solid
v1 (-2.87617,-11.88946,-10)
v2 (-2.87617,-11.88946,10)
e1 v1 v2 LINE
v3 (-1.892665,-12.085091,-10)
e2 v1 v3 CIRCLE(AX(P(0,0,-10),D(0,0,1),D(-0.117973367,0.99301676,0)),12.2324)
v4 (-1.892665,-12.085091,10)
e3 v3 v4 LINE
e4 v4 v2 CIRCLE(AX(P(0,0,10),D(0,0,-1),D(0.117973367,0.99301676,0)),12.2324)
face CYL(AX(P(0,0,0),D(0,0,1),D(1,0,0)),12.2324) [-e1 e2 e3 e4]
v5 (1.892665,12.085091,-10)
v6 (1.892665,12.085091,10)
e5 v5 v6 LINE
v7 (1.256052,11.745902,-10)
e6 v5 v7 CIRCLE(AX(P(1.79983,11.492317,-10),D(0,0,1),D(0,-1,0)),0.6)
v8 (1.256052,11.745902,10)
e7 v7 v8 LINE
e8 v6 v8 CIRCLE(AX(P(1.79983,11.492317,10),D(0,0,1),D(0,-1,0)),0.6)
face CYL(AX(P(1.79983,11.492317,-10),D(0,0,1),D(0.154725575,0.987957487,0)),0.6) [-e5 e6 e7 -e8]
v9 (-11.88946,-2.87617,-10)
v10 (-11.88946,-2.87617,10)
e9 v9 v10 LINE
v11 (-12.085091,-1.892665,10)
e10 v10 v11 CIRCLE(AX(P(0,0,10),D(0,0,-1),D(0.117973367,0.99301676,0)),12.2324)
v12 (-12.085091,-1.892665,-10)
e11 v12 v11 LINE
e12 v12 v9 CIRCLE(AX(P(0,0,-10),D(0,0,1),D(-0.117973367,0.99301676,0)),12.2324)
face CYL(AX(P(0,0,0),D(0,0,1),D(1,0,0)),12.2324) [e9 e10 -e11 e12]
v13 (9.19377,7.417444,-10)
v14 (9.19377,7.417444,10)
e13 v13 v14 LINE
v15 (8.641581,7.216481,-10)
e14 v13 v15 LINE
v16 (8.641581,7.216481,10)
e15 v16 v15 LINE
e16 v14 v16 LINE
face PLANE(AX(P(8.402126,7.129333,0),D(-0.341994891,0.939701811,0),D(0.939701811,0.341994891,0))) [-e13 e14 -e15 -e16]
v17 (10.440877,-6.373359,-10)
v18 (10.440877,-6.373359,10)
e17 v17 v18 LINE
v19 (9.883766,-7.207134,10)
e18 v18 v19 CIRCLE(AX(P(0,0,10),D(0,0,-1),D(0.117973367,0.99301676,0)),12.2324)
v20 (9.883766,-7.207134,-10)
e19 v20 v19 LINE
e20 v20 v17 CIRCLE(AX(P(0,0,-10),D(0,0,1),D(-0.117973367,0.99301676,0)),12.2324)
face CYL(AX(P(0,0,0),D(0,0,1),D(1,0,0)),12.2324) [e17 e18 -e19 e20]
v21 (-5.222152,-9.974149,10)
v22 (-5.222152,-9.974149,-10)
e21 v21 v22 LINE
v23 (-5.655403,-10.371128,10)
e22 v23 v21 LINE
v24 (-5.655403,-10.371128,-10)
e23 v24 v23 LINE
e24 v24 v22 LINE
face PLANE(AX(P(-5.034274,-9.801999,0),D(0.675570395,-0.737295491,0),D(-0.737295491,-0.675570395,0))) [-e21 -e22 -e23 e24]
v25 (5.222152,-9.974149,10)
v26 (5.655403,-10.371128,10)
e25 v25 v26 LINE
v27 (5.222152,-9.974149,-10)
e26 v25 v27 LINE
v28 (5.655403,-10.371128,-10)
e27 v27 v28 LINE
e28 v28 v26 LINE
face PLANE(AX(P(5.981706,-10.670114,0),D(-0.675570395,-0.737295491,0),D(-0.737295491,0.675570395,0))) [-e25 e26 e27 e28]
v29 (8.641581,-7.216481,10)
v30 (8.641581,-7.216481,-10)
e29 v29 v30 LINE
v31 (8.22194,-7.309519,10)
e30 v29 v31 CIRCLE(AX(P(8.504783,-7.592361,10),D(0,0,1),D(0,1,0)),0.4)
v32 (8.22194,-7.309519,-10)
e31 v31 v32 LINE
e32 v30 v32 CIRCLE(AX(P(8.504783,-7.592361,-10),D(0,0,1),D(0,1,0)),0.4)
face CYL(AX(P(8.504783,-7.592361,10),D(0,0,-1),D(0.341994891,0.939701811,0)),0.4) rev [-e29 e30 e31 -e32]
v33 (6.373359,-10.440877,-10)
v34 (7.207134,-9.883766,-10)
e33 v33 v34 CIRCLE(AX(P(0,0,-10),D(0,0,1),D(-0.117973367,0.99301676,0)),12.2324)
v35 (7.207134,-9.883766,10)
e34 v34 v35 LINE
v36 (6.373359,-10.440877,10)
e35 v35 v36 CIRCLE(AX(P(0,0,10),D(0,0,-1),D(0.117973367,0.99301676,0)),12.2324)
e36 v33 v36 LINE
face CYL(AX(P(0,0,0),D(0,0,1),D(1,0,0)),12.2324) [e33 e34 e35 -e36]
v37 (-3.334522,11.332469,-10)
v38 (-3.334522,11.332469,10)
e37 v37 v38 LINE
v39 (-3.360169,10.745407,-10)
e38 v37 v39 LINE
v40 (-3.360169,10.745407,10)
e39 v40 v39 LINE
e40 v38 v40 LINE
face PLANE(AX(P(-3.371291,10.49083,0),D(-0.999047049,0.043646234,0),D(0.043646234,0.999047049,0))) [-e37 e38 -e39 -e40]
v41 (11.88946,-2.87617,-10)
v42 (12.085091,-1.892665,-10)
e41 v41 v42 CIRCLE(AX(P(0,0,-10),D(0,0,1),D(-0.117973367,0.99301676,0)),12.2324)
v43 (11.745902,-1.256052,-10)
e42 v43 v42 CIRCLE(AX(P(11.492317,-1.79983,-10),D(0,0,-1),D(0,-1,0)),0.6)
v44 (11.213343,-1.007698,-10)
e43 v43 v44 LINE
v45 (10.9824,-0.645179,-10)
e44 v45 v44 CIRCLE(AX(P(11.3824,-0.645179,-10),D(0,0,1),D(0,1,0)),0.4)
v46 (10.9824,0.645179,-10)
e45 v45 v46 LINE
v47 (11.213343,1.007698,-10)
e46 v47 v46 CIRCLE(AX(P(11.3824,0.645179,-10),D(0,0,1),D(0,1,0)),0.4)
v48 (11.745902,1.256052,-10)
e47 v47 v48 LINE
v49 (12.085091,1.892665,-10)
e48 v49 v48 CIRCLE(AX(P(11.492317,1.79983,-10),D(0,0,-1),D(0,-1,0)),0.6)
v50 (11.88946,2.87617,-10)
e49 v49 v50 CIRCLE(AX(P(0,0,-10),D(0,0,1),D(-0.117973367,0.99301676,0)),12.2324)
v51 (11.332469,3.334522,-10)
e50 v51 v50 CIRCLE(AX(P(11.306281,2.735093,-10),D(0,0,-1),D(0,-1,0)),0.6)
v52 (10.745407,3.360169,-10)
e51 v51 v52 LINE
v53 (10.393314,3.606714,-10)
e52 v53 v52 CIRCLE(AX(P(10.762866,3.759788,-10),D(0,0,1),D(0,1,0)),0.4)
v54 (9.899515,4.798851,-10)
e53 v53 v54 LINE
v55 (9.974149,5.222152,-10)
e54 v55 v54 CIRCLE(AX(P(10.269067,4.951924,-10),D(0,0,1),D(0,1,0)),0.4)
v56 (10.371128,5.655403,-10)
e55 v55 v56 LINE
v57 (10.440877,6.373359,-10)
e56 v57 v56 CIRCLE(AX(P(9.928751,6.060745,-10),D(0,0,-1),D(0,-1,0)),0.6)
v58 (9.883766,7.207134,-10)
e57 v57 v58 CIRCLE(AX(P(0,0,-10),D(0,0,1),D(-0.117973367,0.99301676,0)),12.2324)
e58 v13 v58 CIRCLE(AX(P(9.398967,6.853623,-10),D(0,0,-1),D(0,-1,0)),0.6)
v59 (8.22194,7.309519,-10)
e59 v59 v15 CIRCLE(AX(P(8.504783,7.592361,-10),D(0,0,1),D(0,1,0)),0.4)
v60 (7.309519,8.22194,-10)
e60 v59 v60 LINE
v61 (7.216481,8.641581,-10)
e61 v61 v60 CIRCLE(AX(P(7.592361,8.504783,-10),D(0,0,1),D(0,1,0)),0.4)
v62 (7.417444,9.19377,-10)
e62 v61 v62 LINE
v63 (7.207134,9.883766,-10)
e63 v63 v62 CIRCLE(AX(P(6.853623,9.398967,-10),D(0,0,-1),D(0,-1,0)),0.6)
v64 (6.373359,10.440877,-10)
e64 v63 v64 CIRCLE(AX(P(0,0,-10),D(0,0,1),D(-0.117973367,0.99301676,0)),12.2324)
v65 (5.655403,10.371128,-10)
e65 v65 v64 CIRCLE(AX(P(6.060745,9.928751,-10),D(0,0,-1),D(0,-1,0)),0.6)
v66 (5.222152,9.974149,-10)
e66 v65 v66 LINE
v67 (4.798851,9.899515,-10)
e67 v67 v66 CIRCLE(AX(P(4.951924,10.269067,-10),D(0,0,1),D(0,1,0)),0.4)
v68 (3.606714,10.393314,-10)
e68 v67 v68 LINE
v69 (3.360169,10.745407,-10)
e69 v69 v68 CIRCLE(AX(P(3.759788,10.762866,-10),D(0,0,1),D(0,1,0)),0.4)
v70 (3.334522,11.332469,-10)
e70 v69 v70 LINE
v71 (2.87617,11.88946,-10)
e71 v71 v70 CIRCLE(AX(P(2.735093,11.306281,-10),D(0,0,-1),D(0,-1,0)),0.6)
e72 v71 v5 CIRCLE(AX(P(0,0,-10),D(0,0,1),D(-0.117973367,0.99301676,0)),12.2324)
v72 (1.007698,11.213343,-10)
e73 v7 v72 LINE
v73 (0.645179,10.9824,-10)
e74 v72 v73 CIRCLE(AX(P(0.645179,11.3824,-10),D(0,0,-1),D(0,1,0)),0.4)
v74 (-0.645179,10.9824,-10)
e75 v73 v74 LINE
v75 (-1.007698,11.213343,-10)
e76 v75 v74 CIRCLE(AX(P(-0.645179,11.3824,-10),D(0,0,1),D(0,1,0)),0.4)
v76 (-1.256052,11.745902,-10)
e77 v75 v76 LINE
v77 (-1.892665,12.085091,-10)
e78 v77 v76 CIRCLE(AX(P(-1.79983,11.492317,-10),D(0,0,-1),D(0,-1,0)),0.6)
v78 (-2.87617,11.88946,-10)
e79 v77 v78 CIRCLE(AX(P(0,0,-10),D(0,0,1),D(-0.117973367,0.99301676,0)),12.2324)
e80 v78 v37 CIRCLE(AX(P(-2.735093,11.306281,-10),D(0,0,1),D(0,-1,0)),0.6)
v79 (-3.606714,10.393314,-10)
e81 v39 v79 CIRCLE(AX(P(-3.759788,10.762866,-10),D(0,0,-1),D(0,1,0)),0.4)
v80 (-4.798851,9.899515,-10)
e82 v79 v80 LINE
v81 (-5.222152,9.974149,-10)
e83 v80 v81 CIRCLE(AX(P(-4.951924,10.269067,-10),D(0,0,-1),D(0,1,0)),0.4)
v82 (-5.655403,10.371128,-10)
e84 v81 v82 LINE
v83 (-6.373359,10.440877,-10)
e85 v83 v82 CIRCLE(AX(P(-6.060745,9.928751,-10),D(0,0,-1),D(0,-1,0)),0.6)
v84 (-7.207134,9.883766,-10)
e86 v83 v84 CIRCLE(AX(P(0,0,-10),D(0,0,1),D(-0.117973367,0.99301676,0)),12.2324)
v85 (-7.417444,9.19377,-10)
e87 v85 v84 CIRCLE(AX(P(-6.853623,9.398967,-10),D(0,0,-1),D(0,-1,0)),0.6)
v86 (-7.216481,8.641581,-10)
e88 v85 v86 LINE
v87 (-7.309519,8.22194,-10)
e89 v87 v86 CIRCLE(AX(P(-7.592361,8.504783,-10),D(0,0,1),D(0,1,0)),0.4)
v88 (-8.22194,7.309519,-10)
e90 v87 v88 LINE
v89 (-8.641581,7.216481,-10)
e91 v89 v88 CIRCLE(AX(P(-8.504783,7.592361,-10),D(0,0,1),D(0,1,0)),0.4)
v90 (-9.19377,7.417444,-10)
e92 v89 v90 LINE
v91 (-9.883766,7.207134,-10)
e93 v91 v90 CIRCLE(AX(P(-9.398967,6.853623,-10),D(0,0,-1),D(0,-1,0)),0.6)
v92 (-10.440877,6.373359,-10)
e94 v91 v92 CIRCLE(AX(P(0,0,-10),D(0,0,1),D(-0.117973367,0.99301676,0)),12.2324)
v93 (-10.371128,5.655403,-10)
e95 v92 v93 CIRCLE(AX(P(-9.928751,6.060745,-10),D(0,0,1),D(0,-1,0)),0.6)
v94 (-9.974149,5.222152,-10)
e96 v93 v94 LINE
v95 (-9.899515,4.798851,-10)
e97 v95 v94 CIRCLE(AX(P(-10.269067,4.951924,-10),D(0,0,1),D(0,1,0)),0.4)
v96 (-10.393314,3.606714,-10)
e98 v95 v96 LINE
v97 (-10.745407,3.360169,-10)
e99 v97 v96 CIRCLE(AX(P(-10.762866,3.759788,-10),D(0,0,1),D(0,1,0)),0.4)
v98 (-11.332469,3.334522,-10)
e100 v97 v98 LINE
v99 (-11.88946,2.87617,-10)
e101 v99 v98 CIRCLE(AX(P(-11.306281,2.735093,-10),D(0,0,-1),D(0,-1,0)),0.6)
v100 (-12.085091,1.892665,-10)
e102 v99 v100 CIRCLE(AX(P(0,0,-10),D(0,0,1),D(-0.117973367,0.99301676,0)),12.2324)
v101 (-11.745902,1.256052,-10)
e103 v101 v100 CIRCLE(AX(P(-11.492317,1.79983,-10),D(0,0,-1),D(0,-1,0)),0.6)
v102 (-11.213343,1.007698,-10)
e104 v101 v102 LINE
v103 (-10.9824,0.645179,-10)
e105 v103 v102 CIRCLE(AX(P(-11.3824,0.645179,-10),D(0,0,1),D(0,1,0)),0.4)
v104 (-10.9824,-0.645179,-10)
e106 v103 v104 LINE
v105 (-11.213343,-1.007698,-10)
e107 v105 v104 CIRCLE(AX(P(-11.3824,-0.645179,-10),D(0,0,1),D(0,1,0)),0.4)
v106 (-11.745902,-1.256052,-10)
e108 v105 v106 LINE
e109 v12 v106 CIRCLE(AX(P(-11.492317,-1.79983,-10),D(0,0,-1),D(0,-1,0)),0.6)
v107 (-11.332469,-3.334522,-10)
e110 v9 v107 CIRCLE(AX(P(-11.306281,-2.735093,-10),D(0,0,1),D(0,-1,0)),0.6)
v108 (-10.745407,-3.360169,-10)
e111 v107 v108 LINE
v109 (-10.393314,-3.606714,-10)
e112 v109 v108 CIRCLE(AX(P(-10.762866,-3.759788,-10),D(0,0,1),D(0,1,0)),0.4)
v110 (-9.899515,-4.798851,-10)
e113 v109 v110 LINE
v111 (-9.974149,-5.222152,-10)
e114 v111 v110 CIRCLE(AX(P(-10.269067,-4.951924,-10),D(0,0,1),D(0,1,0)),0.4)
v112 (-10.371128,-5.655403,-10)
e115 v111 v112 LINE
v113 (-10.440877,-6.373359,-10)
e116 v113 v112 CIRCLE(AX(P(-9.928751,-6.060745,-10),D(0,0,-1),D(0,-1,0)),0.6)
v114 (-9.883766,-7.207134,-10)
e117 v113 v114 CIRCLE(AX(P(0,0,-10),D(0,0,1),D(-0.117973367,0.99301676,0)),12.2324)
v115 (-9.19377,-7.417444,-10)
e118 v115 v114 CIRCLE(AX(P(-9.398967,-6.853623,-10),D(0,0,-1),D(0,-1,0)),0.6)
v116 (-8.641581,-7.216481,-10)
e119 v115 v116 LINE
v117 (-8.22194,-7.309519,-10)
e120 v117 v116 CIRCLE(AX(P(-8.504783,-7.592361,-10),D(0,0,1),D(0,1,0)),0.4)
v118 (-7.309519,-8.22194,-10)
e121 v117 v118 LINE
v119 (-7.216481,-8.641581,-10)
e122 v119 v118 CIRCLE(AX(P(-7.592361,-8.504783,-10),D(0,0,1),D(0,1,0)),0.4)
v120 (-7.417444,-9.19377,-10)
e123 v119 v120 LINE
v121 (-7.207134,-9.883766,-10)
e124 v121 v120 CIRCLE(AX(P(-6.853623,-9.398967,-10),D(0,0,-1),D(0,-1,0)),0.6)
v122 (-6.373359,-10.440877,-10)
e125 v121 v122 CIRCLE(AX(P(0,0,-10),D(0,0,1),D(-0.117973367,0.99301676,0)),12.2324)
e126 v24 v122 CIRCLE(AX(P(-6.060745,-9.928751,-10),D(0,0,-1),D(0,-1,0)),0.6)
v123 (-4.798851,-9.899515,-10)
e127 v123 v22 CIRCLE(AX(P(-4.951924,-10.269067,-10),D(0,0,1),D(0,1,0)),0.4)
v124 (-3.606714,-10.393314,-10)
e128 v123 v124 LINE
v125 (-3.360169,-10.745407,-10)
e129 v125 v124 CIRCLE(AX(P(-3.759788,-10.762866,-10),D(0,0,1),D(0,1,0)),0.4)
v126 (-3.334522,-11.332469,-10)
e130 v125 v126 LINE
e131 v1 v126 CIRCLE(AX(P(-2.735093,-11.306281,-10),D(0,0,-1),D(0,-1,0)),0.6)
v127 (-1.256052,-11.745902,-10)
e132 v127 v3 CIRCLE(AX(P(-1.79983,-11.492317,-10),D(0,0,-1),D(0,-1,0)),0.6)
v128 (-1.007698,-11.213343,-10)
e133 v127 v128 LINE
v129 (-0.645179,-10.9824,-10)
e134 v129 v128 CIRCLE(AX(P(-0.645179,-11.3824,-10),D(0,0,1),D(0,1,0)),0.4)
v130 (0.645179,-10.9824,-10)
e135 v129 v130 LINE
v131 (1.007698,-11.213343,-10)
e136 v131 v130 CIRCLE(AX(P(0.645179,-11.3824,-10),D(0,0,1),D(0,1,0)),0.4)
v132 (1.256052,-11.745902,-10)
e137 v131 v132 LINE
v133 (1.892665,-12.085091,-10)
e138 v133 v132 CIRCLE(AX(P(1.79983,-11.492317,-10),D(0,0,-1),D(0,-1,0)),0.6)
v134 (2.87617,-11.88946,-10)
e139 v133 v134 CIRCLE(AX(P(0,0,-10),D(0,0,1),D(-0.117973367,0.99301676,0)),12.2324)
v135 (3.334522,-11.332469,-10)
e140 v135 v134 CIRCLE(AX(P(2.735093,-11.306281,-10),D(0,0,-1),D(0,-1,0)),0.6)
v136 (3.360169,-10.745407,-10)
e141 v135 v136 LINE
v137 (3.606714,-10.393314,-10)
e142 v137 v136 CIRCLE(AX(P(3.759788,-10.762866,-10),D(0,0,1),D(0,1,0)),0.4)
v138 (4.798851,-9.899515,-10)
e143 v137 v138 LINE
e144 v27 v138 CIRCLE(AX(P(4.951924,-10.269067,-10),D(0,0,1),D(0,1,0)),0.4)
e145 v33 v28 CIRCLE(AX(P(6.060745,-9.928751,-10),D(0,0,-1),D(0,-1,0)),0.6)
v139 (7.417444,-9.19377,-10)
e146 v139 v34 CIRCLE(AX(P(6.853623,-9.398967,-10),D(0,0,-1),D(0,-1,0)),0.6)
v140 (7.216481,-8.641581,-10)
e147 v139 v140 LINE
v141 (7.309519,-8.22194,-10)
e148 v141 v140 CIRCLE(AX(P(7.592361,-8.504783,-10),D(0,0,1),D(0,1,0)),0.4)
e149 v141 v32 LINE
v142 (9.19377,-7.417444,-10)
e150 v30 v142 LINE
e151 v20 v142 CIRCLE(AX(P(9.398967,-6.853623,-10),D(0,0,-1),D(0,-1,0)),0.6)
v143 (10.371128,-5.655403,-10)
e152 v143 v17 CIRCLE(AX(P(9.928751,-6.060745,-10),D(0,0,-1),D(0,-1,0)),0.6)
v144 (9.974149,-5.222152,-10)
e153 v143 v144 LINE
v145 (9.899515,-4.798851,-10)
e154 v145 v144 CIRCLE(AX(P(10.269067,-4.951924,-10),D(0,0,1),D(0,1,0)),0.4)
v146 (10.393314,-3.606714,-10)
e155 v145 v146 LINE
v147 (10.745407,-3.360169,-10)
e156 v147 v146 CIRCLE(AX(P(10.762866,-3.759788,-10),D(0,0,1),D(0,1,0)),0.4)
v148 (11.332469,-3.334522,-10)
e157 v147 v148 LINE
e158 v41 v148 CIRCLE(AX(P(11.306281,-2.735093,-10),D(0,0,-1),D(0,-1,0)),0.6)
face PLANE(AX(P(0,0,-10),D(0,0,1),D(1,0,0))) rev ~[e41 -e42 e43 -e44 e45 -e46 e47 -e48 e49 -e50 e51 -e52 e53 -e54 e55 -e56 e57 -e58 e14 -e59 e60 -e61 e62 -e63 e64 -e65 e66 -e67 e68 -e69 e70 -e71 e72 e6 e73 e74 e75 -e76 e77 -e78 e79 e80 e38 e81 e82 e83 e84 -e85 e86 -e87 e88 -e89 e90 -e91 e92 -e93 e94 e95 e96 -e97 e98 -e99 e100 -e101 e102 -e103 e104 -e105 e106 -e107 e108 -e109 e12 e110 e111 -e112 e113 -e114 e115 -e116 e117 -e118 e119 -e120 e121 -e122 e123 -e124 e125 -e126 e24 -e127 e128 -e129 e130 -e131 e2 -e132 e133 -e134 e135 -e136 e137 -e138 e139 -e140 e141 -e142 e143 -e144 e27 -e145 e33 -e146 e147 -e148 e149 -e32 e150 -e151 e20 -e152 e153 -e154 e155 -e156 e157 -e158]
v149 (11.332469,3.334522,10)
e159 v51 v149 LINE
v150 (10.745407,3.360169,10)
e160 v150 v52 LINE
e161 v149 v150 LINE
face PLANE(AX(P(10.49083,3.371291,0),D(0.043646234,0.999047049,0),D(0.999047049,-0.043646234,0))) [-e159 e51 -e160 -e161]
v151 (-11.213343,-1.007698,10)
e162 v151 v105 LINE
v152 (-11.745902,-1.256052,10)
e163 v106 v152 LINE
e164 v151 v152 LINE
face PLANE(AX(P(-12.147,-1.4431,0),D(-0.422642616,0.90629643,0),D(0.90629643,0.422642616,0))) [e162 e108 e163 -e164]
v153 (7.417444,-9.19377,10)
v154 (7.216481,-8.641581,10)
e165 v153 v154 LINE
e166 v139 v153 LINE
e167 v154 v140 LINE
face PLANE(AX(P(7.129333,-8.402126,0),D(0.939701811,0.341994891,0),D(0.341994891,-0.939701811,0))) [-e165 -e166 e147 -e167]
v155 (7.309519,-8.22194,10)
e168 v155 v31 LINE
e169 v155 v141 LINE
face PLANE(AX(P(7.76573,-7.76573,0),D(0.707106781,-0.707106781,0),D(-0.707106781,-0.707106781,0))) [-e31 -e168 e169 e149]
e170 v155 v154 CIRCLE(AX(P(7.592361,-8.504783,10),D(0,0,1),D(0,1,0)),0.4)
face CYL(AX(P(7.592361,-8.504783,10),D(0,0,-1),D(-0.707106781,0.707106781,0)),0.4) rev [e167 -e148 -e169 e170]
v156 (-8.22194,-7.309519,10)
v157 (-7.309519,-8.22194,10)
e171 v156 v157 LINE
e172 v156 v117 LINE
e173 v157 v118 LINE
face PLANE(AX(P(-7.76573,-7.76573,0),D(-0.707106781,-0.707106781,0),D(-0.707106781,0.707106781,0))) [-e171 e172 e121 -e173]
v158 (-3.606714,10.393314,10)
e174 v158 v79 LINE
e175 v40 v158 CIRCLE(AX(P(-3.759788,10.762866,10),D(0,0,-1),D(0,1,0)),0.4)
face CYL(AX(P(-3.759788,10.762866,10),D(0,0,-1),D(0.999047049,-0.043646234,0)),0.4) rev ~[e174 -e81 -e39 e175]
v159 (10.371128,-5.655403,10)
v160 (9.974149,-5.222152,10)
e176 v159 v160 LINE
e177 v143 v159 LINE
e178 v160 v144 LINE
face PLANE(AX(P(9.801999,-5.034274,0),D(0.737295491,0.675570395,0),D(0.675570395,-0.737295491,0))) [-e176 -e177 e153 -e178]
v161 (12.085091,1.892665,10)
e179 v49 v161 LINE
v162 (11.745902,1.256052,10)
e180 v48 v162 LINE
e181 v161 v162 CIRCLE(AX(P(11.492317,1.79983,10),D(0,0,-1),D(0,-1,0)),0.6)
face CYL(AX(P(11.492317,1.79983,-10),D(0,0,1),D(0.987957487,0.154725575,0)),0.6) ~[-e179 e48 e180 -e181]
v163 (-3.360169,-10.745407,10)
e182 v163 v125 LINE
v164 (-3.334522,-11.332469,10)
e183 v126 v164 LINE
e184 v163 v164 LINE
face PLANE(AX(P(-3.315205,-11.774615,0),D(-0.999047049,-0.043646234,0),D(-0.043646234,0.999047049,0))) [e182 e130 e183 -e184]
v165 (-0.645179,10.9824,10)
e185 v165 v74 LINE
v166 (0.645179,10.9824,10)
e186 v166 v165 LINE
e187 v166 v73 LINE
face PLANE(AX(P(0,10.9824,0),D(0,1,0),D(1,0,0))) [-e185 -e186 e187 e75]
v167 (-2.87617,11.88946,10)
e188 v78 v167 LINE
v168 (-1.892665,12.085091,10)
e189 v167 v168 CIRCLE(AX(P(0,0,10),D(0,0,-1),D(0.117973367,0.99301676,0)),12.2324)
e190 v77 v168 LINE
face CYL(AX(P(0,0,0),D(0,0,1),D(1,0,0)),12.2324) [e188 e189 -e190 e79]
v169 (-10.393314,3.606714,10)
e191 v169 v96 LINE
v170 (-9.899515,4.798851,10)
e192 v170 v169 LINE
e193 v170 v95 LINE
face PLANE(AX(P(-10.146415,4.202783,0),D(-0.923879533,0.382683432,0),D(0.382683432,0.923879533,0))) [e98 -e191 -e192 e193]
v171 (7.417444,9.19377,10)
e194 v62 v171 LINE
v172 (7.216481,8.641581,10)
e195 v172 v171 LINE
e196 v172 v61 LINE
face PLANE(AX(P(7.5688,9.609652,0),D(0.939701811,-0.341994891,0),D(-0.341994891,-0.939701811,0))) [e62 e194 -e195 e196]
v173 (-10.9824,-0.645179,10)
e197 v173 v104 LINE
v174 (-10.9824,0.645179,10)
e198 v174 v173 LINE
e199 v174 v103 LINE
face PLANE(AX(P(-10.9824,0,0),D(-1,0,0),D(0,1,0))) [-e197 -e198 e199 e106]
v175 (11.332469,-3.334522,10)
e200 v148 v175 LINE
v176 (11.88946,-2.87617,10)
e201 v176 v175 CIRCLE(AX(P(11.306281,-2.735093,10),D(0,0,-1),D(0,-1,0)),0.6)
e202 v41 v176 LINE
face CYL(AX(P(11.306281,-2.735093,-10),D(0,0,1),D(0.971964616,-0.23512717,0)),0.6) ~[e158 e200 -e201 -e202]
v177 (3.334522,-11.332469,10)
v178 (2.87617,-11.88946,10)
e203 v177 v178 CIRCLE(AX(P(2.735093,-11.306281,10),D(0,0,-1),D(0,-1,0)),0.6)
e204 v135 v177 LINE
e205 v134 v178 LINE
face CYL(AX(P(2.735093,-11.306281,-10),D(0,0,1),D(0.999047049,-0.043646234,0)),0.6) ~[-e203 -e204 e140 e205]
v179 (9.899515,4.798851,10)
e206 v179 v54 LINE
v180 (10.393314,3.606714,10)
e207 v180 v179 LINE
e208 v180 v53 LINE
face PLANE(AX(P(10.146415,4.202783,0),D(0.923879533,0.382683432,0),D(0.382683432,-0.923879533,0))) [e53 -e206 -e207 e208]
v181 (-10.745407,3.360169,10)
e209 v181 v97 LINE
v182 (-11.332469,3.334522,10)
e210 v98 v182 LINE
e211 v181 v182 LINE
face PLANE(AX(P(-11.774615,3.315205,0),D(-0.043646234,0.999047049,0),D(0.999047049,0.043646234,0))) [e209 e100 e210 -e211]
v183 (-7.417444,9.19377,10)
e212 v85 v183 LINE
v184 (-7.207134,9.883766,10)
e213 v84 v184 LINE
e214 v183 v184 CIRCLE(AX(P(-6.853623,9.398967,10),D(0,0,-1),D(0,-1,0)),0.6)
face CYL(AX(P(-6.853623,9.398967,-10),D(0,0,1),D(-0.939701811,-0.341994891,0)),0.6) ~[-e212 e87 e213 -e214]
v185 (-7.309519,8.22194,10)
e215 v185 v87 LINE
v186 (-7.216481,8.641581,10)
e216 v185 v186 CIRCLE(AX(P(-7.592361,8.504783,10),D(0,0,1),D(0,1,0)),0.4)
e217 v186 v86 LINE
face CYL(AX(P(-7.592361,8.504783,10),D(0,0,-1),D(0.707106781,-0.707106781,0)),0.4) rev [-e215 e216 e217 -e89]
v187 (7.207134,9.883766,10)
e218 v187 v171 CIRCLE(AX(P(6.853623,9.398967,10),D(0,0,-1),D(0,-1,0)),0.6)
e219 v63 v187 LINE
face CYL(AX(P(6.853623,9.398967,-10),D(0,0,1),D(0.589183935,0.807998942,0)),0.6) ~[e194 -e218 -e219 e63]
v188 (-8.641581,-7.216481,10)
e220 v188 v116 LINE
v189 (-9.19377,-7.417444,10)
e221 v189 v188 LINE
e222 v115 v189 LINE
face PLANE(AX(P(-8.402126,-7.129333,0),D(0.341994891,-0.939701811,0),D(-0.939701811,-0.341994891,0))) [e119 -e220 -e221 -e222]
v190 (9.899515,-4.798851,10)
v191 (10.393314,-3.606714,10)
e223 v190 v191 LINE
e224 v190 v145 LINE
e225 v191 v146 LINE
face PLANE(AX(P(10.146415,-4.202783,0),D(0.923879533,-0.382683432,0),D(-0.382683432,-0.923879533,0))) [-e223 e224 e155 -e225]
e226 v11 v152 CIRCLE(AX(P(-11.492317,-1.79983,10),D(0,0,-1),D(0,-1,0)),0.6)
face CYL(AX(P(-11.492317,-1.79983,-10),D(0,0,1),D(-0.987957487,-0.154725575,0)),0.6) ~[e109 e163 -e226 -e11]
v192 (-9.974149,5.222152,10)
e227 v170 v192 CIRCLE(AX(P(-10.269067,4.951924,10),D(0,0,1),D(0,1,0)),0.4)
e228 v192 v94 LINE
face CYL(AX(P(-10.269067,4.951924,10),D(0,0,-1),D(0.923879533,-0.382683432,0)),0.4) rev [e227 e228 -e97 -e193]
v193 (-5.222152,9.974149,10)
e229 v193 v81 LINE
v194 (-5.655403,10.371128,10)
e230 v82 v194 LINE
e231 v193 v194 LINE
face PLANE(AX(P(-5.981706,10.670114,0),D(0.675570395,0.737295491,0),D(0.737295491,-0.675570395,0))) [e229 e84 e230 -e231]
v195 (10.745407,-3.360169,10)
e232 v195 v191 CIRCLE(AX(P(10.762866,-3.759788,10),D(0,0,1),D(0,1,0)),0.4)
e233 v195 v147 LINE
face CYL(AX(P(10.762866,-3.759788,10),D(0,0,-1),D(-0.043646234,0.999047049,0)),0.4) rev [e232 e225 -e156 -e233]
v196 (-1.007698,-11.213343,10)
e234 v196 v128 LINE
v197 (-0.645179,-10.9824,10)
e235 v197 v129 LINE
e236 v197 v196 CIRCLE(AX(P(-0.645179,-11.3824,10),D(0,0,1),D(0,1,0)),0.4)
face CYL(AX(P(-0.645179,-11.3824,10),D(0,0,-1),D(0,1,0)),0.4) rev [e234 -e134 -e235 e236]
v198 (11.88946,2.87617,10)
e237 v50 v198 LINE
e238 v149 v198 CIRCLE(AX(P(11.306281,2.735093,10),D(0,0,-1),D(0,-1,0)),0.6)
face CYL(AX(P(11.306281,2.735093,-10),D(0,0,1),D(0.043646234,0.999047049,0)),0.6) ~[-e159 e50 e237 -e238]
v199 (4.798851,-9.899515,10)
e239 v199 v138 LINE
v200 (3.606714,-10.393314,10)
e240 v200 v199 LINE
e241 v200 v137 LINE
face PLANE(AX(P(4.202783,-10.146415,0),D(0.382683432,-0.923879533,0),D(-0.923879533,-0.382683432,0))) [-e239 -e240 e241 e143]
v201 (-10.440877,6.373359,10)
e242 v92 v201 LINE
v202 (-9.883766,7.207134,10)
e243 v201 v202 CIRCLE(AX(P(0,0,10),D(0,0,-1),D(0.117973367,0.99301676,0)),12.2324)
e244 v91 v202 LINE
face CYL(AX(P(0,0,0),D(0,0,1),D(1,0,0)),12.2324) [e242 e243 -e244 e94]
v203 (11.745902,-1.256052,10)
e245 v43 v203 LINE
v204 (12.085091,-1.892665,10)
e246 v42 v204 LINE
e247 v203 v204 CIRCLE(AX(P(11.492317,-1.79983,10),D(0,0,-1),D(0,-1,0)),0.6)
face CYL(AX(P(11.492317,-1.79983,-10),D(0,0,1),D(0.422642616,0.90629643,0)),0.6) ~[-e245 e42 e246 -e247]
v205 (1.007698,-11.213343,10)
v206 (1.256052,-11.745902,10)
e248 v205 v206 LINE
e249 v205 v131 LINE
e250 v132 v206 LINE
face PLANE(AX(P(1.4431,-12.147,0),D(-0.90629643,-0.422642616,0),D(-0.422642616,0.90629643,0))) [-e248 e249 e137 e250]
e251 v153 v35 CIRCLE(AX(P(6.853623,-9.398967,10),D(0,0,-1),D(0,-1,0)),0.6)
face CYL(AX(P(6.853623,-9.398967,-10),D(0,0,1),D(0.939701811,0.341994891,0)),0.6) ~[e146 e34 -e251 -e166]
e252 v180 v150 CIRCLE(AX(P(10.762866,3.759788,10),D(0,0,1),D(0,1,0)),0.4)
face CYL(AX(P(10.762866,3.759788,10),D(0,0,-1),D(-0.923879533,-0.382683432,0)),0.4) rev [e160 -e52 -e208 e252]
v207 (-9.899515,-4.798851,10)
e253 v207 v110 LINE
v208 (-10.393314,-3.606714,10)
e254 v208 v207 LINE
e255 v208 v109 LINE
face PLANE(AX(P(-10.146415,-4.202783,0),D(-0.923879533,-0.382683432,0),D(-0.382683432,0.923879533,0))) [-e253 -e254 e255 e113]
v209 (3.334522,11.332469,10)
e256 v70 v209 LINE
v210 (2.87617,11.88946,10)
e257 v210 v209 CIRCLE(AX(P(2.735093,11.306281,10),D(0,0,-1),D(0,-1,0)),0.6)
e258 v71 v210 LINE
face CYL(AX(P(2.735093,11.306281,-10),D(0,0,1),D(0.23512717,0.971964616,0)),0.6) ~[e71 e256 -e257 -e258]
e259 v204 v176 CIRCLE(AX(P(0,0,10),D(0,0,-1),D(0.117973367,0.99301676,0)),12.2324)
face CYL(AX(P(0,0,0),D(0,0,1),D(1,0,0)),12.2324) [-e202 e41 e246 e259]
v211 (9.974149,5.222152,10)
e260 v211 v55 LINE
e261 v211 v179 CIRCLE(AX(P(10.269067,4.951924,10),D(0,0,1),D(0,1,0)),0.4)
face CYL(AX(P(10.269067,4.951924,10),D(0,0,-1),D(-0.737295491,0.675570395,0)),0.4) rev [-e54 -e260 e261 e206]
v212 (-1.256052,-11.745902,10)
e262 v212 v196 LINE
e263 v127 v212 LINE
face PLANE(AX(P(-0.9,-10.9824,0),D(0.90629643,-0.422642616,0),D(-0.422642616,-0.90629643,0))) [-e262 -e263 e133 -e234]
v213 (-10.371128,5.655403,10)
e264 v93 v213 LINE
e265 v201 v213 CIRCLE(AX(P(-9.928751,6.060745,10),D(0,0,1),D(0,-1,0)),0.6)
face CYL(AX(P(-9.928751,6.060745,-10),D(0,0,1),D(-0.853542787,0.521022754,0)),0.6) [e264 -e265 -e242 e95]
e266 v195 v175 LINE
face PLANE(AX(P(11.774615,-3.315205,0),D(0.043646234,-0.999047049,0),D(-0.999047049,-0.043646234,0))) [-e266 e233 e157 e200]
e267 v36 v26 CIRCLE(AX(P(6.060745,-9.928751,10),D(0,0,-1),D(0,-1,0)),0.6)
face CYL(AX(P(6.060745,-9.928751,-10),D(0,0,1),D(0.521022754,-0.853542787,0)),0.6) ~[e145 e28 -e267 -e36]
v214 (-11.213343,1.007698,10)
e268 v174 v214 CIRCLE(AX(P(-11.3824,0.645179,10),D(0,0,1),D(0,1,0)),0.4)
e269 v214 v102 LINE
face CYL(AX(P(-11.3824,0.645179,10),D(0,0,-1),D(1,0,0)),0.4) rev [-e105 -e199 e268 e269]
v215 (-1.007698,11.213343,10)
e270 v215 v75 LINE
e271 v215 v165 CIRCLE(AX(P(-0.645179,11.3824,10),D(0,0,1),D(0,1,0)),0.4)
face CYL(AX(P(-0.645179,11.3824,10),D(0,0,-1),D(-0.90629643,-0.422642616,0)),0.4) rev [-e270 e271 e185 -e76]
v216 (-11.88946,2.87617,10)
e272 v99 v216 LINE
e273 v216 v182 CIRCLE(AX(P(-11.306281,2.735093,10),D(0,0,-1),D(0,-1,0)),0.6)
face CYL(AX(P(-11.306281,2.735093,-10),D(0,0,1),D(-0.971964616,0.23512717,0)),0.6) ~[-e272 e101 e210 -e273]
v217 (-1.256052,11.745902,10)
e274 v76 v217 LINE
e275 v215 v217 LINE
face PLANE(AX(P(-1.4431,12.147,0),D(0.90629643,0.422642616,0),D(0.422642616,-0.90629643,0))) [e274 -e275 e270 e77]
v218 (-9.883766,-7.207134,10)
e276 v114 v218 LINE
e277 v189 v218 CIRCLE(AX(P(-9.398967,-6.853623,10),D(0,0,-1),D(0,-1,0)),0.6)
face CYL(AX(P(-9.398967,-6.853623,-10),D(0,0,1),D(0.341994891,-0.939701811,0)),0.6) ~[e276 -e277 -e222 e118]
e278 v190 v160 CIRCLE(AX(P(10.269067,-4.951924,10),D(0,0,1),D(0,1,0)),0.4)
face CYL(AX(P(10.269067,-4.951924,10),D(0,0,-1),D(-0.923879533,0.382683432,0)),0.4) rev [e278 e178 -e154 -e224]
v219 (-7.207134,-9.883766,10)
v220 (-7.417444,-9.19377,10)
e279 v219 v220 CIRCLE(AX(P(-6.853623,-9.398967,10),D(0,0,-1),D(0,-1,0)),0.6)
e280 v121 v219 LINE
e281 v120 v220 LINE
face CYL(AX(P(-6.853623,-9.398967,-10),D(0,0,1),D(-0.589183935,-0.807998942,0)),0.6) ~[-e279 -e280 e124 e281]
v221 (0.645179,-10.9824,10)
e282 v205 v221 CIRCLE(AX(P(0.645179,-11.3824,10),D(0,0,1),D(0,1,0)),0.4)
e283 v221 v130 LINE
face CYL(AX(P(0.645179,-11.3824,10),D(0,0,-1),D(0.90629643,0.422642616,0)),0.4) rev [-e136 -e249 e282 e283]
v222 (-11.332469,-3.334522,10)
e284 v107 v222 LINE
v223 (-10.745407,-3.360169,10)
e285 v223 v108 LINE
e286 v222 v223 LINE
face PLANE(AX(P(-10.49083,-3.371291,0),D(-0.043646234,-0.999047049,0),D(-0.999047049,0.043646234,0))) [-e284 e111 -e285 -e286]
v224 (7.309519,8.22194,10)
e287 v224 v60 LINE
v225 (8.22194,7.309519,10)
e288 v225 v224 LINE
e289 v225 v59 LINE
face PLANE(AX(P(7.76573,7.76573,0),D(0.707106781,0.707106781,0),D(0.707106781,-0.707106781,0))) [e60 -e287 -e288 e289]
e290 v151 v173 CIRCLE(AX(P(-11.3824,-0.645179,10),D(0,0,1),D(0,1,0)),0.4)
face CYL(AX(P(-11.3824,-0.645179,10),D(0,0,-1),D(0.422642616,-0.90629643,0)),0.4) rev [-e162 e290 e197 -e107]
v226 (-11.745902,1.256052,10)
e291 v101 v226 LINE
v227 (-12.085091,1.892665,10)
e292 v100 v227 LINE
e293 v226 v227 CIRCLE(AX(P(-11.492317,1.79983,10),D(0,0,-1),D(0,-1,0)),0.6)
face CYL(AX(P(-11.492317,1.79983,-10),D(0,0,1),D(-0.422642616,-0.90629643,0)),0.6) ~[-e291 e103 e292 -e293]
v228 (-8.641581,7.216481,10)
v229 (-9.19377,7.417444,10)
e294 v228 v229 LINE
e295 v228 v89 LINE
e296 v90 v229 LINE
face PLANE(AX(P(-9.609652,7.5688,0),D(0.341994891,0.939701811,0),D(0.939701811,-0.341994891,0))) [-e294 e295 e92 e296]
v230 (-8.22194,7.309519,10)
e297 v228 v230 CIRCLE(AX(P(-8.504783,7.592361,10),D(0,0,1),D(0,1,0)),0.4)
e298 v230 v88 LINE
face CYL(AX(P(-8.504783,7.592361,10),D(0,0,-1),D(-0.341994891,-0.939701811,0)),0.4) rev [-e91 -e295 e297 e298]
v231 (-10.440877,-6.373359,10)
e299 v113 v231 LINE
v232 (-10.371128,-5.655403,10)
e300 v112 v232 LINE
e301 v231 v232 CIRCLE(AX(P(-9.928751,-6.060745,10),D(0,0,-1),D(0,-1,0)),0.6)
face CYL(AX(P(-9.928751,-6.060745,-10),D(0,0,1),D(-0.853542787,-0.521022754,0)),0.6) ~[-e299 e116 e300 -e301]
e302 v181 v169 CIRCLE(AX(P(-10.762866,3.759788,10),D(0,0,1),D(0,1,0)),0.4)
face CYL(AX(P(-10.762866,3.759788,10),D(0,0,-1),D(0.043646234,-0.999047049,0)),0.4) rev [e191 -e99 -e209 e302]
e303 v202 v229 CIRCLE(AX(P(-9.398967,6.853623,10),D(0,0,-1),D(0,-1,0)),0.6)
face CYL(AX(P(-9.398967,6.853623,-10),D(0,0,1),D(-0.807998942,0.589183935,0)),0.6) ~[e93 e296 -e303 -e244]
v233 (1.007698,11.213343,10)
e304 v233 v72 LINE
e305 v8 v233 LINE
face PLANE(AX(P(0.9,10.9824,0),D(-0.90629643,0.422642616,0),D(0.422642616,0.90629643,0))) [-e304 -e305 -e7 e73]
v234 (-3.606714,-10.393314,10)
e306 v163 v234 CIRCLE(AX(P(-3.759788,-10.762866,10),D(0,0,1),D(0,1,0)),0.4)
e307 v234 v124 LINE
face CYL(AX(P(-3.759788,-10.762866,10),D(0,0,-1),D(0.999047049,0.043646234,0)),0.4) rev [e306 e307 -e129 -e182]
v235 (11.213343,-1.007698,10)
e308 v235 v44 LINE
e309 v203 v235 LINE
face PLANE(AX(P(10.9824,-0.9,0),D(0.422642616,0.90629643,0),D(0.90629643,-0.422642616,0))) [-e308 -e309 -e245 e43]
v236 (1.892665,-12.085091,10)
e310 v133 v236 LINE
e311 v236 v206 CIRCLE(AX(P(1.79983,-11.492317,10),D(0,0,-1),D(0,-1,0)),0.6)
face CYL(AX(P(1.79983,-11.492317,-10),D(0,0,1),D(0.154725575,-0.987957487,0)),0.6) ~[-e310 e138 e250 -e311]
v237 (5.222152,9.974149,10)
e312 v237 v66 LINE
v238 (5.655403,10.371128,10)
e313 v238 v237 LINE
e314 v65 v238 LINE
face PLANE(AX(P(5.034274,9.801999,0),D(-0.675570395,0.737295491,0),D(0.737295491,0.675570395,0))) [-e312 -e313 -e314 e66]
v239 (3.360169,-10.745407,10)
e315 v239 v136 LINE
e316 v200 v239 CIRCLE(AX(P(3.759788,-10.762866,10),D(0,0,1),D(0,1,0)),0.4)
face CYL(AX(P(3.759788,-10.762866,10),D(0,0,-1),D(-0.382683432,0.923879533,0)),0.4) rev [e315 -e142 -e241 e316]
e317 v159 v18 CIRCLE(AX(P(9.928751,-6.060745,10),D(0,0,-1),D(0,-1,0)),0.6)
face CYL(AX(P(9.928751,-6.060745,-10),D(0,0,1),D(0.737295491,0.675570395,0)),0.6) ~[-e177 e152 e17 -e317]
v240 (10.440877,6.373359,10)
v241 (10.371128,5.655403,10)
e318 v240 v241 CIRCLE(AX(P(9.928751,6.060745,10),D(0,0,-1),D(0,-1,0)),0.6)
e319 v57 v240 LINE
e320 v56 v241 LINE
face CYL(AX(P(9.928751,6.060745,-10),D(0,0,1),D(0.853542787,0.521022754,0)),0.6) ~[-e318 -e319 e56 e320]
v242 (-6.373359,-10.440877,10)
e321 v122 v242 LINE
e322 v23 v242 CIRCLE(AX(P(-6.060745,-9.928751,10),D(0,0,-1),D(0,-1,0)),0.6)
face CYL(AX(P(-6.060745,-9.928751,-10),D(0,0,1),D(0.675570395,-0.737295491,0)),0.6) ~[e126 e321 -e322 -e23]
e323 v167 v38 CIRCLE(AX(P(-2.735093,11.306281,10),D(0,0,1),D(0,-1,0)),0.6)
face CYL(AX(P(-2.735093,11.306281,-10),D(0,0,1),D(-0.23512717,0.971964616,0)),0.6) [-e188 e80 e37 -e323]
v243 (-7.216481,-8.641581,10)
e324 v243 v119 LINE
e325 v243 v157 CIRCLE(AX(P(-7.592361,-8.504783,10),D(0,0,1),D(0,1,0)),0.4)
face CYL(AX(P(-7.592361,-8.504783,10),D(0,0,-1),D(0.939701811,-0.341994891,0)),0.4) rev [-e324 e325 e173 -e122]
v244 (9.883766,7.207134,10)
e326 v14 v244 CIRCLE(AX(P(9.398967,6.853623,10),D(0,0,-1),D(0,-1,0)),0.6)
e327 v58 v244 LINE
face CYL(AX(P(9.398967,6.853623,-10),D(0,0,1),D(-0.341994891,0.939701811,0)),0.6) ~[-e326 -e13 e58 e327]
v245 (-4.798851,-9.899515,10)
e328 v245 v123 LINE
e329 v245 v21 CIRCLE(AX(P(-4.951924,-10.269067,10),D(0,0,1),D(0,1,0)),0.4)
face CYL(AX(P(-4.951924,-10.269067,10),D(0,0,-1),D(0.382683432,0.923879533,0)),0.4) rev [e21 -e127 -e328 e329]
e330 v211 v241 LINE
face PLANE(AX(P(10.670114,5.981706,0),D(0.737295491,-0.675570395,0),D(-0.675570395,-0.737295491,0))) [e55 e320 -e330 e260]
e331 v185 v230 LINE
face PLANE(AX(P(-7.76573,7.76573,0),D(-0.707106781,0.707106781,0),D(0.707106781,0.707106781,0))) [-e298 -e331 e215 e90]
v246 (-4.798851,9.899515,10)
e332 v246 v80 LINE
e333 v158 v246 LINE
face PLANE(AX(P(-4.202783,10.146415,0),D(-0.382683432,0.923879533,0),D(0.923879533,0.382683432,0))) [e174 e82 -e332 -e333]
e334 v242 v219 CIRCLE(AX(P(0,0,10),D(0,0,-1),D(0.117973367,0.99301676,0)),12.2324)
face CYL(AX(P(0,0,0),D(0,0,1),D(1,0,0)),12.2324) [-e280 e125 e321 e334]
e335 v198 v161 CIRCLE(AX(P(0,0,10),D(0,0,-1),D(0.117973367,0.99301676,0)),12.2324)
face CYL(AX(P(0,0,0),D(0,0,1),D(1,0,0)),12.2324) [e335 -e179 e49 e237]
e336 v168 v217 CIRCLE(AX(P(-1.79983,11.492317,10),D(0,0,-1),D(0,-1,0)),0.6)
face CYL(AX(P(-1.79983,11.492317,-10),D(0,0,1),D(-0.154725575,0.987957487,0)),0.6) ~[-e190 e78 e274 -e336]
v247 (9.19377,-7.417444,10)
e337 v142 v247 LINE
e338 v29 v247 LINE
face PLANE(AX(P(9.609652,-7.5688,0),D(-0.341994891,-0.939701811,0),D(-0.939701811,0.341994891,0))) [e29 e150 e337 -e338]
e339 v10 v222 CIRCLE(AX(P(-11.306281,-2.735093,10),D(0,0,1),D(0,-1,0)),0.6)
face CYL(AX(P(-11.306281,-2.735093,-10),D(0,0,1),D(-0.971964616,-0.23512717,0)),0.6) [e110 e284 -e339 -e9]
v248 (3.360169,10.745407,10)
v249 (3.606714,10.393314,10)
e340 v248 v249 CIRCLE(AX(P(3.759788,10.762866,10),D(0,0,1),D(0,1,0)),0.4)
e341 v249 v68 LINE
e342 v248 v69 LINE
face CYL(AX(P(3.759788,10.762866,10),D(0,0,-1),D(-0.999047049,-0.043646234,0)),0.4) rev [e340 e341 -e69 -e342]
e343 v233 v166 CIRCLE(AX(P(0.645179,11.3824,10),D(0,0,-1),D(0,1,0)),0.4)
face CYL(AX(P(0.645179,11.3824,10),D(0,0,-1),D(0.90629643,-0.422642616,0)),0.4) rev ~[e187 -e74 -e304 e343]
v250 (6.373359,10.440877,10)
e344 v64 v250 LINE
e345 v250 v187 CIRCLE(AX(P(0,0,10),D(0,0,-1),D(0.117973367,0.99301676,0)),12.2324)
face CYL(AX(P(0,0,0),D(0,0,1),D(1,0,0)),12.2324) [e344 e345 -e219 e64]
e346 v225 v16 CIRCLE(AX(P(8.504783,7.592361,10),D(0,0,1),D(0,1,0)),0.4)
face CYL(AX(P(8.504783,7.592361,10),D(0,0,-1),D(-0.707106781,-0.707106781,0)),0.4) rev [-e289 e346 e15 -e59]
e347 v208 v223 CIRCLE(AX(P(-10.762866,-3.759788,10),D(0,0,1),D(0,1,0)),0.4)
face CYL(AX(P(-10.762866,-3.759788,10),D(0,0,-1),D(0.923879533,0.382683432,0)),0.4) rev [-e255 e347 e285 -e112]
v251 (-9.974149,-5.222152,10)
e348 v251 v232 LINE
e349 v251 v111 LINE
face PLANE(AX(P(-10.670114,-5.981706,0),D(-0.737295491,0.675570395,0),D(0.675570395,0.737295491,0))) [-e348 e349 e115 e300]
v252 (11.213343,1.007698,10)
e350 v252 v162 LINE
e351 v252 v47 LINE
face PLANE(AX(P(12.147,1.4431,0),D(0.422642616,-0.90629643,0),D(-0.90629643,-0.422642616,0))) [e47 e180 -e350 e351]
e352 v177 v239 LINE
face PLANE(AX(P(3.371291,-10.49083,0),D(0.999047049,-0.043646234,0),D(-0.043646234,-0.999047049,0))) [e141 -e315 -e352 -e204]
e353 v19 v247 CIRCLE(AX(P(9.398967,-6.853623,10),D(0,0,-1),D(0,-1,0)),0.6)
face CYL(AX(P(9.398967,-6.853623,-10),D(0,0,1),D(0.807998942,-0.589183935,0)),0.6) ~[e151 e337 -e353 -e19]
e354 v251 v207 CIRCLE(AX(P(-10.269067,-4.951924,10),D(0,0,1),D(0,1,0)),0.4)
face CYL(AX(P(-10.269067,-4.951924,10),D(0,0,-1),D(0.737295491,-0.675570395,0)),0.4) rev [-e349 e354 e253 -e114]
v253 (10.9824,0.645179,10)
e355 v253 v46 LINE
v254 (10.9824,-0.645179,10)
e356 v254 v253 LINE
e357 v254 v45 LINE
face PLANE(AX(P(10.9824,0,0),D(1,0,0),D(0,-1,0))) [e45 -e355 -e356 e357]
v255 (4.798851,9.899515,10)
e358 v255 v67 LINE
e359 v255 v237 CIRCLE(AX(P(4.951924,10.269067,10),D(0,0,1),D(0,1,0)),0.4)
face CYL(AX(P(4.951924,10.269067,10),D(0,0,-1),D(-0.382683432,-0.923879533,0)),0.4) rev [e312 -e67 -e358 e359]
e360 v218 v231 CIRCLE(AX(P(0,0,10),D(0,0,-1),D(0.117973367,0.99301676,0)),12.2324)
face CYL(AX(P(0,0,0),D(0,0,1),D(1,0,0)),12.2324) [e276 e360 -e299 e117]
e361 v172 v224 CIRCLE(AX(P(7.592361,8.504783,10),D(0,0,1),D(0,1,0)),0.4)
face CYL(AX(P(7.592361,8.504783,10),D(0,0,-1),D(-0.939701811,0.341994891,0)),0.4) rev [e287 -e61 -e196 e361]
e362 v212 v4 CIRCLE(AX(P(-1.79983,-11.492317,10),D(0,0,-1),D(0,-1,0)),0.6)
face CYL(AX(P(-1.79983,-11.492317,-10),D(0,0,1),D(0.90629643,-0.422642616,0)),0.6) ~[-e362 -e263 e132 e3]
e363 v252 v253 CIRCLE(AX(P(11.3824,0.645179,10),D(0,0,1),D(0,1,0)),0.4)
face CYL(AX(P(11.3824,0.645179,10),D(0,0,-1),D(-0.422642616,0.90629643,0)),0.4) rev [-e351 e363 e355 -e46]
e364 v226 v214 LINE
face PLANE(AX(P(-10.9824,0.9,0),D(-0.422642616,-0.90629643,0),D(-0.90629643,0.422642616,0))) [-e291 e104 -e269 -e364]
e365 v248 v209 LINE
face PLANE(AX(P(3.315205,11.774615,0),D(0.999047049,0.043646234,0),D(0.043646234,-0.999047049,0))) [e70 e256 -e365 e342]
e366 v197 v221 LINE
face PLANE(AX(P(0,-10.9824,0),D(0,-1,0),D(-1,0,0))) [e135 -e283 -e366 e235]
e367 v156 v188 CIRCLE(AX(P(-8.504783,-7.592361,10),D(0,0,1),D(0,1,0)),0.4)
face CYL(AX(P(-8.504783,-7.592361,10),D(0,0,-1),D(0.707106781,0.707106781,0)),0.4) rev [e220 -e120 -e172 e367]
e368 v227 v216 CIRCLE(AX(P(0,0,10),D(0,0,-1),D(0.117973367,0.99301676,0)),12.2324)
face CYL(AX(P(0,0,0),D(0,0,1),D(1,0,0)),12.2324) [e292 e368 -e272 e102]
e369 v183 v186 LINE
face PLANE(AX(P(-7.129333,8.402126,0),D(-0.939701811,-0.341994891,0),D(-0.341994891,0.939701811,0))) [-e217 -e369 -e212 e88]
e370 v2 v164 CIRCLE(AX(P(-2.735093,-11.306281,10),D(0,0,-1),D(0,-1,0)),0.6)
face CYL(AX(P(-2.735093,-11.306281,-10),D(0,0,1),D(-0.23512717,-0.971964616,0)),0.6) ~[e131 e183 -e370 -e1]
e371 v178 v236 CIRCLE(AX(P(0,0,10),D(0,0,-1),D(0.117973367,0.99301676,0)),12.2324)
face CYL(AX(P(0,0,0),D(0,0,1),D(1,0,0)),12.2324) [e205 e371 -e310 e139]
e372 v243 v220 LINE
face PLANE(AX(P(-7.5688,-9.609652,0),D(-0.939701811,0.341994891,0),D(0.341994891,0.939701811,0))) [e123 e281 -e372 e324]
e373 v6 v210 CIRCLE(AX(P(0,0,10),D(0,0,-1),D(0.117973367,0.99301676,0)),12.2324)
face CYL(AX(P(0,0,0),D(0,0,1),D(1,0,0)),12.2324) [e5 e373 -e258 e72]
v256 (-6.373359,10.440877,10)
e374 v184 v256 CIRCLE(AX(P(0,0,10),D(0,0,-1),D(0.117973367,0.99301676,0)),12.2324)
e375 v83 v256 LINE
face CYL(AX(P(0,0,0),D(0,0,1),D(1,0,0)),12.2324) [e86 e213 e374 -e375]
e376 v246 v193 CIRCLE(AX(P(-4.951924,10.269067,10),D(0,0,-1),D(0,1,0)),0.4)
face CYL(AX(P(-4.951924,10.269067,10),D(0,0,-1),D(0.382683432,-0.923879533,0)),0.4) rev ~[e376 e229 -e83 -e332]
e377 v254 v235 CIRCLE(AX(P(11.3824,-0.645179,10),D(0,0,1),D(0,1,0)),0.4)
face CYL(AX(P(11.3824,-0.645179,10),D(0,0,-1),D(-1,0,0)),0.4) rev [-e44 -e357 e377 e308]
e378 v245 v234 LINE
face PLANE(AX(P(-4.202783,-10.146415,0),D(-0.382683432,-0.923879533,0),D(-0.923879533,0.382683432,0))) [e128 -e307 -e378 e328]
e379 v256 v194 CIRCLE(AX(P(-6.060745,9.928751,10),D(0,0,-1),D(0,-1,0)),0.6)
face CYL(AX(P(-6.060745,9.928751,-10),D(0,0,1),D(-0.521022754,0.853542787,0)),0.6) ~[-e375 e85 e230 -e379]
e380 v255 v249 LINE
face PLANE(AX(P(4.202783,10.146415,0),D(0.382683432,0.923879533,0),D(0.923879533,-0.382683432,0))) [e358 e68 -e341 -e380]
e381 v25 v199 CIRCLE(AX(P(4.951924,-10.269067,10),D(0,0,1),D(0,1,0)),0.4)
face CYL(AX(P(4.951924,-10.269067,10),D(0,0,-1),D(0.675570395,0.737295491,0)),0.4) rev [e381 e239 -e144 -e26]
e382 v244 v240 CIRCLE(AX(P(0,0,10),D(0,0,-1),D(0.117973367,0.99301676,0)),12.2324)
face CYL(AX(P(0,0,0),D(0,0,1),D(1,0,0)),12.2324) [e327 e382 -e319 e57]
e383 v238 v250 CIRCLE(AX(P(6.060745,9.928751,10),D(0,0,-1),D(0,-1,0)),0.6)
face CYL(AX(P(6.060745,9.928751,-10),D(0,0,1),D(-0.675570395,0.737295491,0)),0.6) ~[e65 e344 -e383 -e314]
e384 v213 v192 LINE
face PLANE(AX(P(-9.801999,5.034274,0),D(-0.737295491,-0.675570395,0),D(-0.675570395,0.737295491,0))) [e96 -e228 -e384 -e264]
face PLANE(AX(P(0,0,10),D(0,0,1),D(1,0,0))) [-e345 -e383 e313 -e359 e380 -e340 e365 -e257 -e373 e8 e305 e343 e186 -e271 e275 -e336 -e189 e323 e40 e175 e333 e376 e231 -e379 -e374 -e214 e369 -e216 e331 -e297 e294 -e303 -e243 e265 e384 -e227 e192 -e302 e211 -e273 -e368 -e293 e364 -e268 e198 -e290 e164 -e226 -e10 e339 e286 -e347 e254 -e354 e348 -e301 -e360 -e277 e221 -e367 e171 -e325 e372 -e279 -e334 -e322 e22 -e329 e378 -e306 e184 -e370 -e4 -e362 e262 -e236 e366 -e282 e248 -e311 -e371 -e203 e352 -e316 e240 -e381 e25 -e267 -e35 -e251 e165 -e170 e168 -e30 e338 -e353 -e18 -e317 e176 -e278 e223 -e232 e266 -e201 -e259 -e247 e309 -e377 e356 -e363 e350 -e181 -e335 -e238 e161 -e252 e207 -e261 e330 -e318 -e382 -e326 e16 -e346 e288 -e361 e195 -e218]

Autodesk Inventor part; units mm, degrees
ref_plane "YZ Plane" through (0, 0, 0) normal (1, 0, 0) x (0, 1, 0)
ref_plane "XZ Plane" through (0, 0, 0) normal (0, 1, 0) x (-1, 0, 0)
ref_plane "XY Plane" through (0, 0, 0) normal (0, 0, 1) x (1, 0, 0)
sketch "Riemenscheibenskizze" plane through (0, 0, 0) normal (0, 0, 1) x (1, 0, 0)
  circle A0 centre (0, 0) radius 12.7324 construction
  circle A1 centre (0, 0) radius 12.2324
  circle A2 centre (0, 0) radius 10.9824
  line L0 (-1.4431, 12.147) -> (-0.9, 10.9824)
  line L1 (-0.9, 10.9824) -> (0.9, 10.9824)
  line L2 (0.9, 10.9824) -> (1.4431, 12.147)
  line L3 (0, 0) -> (0, 12.2324) construction
  point P0 (0, 10.9824)
  dimension "d0" = 25.4648
  dimension "d1" = 0.5
  dimension "d2" = 1.25
  dimension "d3" = 50
  dimension "d4" = 1.8
extrude "Grundkörper" add sketch "Riemenscheibenskizze" along normal mid plane 20 contours A2 | A1 L0 L1 L2 | L2 L1 L0 A1
extrude "Zahn" cut sketch "Riemenscheibenskizze" along normal through all both and the other way through all contours L2 L1 L0 A1 picked at (0, 11.8094)
fillet "Fillet" radius 0.4 2 edges at (0.9, 10.9824, 0) (-0.9, 10.9824, 0)
fillet "Fillet" radius 0.6 4 edges at (-1.4431, 12.147, 5) (-1.4431, 12.147, -5) (1.4431, 12.147, 5) (1.4431, 12.147, -5)
pattern_circular "Zähne" count 16 over 360 about axis through (0, 0, -10) along (0, 0, 1) of "Zahn", "Fillet"
feature "Flansch links" [suppressed]
feature "Flansch rechts" [suppressed]
equation "\"d1\" = da_a"
equation "\"d2\" = da_hg"
equation "\"d3\" = 2 * da_fi"
equation "\"d4\" = da_bw"
equation "\"d5\" = da_bf"
equation "\"d7\" = da_bf"
equation "\"d9\" = da_rb"
equation "\"d10\" = da_rt"
equation "\"da_pb\" = 5"
equation "\"da_fi\" = 25deg"
equation "\"da_hg\" = 1.25"
equation "\"da_bw\" = 1.8"
equation "\"da_rb\" = 0.4"
equation "\"da_rt\" = 0.6"
equation "\"da_a\" = 0.5"
equation "\"da_bf\" = 20"
equation "\"da_wf\" = 1.27"
equation "\"da_hf\" = 2.032"
properties part number "Synchrone Riemenscheibe2" material "Steel"
